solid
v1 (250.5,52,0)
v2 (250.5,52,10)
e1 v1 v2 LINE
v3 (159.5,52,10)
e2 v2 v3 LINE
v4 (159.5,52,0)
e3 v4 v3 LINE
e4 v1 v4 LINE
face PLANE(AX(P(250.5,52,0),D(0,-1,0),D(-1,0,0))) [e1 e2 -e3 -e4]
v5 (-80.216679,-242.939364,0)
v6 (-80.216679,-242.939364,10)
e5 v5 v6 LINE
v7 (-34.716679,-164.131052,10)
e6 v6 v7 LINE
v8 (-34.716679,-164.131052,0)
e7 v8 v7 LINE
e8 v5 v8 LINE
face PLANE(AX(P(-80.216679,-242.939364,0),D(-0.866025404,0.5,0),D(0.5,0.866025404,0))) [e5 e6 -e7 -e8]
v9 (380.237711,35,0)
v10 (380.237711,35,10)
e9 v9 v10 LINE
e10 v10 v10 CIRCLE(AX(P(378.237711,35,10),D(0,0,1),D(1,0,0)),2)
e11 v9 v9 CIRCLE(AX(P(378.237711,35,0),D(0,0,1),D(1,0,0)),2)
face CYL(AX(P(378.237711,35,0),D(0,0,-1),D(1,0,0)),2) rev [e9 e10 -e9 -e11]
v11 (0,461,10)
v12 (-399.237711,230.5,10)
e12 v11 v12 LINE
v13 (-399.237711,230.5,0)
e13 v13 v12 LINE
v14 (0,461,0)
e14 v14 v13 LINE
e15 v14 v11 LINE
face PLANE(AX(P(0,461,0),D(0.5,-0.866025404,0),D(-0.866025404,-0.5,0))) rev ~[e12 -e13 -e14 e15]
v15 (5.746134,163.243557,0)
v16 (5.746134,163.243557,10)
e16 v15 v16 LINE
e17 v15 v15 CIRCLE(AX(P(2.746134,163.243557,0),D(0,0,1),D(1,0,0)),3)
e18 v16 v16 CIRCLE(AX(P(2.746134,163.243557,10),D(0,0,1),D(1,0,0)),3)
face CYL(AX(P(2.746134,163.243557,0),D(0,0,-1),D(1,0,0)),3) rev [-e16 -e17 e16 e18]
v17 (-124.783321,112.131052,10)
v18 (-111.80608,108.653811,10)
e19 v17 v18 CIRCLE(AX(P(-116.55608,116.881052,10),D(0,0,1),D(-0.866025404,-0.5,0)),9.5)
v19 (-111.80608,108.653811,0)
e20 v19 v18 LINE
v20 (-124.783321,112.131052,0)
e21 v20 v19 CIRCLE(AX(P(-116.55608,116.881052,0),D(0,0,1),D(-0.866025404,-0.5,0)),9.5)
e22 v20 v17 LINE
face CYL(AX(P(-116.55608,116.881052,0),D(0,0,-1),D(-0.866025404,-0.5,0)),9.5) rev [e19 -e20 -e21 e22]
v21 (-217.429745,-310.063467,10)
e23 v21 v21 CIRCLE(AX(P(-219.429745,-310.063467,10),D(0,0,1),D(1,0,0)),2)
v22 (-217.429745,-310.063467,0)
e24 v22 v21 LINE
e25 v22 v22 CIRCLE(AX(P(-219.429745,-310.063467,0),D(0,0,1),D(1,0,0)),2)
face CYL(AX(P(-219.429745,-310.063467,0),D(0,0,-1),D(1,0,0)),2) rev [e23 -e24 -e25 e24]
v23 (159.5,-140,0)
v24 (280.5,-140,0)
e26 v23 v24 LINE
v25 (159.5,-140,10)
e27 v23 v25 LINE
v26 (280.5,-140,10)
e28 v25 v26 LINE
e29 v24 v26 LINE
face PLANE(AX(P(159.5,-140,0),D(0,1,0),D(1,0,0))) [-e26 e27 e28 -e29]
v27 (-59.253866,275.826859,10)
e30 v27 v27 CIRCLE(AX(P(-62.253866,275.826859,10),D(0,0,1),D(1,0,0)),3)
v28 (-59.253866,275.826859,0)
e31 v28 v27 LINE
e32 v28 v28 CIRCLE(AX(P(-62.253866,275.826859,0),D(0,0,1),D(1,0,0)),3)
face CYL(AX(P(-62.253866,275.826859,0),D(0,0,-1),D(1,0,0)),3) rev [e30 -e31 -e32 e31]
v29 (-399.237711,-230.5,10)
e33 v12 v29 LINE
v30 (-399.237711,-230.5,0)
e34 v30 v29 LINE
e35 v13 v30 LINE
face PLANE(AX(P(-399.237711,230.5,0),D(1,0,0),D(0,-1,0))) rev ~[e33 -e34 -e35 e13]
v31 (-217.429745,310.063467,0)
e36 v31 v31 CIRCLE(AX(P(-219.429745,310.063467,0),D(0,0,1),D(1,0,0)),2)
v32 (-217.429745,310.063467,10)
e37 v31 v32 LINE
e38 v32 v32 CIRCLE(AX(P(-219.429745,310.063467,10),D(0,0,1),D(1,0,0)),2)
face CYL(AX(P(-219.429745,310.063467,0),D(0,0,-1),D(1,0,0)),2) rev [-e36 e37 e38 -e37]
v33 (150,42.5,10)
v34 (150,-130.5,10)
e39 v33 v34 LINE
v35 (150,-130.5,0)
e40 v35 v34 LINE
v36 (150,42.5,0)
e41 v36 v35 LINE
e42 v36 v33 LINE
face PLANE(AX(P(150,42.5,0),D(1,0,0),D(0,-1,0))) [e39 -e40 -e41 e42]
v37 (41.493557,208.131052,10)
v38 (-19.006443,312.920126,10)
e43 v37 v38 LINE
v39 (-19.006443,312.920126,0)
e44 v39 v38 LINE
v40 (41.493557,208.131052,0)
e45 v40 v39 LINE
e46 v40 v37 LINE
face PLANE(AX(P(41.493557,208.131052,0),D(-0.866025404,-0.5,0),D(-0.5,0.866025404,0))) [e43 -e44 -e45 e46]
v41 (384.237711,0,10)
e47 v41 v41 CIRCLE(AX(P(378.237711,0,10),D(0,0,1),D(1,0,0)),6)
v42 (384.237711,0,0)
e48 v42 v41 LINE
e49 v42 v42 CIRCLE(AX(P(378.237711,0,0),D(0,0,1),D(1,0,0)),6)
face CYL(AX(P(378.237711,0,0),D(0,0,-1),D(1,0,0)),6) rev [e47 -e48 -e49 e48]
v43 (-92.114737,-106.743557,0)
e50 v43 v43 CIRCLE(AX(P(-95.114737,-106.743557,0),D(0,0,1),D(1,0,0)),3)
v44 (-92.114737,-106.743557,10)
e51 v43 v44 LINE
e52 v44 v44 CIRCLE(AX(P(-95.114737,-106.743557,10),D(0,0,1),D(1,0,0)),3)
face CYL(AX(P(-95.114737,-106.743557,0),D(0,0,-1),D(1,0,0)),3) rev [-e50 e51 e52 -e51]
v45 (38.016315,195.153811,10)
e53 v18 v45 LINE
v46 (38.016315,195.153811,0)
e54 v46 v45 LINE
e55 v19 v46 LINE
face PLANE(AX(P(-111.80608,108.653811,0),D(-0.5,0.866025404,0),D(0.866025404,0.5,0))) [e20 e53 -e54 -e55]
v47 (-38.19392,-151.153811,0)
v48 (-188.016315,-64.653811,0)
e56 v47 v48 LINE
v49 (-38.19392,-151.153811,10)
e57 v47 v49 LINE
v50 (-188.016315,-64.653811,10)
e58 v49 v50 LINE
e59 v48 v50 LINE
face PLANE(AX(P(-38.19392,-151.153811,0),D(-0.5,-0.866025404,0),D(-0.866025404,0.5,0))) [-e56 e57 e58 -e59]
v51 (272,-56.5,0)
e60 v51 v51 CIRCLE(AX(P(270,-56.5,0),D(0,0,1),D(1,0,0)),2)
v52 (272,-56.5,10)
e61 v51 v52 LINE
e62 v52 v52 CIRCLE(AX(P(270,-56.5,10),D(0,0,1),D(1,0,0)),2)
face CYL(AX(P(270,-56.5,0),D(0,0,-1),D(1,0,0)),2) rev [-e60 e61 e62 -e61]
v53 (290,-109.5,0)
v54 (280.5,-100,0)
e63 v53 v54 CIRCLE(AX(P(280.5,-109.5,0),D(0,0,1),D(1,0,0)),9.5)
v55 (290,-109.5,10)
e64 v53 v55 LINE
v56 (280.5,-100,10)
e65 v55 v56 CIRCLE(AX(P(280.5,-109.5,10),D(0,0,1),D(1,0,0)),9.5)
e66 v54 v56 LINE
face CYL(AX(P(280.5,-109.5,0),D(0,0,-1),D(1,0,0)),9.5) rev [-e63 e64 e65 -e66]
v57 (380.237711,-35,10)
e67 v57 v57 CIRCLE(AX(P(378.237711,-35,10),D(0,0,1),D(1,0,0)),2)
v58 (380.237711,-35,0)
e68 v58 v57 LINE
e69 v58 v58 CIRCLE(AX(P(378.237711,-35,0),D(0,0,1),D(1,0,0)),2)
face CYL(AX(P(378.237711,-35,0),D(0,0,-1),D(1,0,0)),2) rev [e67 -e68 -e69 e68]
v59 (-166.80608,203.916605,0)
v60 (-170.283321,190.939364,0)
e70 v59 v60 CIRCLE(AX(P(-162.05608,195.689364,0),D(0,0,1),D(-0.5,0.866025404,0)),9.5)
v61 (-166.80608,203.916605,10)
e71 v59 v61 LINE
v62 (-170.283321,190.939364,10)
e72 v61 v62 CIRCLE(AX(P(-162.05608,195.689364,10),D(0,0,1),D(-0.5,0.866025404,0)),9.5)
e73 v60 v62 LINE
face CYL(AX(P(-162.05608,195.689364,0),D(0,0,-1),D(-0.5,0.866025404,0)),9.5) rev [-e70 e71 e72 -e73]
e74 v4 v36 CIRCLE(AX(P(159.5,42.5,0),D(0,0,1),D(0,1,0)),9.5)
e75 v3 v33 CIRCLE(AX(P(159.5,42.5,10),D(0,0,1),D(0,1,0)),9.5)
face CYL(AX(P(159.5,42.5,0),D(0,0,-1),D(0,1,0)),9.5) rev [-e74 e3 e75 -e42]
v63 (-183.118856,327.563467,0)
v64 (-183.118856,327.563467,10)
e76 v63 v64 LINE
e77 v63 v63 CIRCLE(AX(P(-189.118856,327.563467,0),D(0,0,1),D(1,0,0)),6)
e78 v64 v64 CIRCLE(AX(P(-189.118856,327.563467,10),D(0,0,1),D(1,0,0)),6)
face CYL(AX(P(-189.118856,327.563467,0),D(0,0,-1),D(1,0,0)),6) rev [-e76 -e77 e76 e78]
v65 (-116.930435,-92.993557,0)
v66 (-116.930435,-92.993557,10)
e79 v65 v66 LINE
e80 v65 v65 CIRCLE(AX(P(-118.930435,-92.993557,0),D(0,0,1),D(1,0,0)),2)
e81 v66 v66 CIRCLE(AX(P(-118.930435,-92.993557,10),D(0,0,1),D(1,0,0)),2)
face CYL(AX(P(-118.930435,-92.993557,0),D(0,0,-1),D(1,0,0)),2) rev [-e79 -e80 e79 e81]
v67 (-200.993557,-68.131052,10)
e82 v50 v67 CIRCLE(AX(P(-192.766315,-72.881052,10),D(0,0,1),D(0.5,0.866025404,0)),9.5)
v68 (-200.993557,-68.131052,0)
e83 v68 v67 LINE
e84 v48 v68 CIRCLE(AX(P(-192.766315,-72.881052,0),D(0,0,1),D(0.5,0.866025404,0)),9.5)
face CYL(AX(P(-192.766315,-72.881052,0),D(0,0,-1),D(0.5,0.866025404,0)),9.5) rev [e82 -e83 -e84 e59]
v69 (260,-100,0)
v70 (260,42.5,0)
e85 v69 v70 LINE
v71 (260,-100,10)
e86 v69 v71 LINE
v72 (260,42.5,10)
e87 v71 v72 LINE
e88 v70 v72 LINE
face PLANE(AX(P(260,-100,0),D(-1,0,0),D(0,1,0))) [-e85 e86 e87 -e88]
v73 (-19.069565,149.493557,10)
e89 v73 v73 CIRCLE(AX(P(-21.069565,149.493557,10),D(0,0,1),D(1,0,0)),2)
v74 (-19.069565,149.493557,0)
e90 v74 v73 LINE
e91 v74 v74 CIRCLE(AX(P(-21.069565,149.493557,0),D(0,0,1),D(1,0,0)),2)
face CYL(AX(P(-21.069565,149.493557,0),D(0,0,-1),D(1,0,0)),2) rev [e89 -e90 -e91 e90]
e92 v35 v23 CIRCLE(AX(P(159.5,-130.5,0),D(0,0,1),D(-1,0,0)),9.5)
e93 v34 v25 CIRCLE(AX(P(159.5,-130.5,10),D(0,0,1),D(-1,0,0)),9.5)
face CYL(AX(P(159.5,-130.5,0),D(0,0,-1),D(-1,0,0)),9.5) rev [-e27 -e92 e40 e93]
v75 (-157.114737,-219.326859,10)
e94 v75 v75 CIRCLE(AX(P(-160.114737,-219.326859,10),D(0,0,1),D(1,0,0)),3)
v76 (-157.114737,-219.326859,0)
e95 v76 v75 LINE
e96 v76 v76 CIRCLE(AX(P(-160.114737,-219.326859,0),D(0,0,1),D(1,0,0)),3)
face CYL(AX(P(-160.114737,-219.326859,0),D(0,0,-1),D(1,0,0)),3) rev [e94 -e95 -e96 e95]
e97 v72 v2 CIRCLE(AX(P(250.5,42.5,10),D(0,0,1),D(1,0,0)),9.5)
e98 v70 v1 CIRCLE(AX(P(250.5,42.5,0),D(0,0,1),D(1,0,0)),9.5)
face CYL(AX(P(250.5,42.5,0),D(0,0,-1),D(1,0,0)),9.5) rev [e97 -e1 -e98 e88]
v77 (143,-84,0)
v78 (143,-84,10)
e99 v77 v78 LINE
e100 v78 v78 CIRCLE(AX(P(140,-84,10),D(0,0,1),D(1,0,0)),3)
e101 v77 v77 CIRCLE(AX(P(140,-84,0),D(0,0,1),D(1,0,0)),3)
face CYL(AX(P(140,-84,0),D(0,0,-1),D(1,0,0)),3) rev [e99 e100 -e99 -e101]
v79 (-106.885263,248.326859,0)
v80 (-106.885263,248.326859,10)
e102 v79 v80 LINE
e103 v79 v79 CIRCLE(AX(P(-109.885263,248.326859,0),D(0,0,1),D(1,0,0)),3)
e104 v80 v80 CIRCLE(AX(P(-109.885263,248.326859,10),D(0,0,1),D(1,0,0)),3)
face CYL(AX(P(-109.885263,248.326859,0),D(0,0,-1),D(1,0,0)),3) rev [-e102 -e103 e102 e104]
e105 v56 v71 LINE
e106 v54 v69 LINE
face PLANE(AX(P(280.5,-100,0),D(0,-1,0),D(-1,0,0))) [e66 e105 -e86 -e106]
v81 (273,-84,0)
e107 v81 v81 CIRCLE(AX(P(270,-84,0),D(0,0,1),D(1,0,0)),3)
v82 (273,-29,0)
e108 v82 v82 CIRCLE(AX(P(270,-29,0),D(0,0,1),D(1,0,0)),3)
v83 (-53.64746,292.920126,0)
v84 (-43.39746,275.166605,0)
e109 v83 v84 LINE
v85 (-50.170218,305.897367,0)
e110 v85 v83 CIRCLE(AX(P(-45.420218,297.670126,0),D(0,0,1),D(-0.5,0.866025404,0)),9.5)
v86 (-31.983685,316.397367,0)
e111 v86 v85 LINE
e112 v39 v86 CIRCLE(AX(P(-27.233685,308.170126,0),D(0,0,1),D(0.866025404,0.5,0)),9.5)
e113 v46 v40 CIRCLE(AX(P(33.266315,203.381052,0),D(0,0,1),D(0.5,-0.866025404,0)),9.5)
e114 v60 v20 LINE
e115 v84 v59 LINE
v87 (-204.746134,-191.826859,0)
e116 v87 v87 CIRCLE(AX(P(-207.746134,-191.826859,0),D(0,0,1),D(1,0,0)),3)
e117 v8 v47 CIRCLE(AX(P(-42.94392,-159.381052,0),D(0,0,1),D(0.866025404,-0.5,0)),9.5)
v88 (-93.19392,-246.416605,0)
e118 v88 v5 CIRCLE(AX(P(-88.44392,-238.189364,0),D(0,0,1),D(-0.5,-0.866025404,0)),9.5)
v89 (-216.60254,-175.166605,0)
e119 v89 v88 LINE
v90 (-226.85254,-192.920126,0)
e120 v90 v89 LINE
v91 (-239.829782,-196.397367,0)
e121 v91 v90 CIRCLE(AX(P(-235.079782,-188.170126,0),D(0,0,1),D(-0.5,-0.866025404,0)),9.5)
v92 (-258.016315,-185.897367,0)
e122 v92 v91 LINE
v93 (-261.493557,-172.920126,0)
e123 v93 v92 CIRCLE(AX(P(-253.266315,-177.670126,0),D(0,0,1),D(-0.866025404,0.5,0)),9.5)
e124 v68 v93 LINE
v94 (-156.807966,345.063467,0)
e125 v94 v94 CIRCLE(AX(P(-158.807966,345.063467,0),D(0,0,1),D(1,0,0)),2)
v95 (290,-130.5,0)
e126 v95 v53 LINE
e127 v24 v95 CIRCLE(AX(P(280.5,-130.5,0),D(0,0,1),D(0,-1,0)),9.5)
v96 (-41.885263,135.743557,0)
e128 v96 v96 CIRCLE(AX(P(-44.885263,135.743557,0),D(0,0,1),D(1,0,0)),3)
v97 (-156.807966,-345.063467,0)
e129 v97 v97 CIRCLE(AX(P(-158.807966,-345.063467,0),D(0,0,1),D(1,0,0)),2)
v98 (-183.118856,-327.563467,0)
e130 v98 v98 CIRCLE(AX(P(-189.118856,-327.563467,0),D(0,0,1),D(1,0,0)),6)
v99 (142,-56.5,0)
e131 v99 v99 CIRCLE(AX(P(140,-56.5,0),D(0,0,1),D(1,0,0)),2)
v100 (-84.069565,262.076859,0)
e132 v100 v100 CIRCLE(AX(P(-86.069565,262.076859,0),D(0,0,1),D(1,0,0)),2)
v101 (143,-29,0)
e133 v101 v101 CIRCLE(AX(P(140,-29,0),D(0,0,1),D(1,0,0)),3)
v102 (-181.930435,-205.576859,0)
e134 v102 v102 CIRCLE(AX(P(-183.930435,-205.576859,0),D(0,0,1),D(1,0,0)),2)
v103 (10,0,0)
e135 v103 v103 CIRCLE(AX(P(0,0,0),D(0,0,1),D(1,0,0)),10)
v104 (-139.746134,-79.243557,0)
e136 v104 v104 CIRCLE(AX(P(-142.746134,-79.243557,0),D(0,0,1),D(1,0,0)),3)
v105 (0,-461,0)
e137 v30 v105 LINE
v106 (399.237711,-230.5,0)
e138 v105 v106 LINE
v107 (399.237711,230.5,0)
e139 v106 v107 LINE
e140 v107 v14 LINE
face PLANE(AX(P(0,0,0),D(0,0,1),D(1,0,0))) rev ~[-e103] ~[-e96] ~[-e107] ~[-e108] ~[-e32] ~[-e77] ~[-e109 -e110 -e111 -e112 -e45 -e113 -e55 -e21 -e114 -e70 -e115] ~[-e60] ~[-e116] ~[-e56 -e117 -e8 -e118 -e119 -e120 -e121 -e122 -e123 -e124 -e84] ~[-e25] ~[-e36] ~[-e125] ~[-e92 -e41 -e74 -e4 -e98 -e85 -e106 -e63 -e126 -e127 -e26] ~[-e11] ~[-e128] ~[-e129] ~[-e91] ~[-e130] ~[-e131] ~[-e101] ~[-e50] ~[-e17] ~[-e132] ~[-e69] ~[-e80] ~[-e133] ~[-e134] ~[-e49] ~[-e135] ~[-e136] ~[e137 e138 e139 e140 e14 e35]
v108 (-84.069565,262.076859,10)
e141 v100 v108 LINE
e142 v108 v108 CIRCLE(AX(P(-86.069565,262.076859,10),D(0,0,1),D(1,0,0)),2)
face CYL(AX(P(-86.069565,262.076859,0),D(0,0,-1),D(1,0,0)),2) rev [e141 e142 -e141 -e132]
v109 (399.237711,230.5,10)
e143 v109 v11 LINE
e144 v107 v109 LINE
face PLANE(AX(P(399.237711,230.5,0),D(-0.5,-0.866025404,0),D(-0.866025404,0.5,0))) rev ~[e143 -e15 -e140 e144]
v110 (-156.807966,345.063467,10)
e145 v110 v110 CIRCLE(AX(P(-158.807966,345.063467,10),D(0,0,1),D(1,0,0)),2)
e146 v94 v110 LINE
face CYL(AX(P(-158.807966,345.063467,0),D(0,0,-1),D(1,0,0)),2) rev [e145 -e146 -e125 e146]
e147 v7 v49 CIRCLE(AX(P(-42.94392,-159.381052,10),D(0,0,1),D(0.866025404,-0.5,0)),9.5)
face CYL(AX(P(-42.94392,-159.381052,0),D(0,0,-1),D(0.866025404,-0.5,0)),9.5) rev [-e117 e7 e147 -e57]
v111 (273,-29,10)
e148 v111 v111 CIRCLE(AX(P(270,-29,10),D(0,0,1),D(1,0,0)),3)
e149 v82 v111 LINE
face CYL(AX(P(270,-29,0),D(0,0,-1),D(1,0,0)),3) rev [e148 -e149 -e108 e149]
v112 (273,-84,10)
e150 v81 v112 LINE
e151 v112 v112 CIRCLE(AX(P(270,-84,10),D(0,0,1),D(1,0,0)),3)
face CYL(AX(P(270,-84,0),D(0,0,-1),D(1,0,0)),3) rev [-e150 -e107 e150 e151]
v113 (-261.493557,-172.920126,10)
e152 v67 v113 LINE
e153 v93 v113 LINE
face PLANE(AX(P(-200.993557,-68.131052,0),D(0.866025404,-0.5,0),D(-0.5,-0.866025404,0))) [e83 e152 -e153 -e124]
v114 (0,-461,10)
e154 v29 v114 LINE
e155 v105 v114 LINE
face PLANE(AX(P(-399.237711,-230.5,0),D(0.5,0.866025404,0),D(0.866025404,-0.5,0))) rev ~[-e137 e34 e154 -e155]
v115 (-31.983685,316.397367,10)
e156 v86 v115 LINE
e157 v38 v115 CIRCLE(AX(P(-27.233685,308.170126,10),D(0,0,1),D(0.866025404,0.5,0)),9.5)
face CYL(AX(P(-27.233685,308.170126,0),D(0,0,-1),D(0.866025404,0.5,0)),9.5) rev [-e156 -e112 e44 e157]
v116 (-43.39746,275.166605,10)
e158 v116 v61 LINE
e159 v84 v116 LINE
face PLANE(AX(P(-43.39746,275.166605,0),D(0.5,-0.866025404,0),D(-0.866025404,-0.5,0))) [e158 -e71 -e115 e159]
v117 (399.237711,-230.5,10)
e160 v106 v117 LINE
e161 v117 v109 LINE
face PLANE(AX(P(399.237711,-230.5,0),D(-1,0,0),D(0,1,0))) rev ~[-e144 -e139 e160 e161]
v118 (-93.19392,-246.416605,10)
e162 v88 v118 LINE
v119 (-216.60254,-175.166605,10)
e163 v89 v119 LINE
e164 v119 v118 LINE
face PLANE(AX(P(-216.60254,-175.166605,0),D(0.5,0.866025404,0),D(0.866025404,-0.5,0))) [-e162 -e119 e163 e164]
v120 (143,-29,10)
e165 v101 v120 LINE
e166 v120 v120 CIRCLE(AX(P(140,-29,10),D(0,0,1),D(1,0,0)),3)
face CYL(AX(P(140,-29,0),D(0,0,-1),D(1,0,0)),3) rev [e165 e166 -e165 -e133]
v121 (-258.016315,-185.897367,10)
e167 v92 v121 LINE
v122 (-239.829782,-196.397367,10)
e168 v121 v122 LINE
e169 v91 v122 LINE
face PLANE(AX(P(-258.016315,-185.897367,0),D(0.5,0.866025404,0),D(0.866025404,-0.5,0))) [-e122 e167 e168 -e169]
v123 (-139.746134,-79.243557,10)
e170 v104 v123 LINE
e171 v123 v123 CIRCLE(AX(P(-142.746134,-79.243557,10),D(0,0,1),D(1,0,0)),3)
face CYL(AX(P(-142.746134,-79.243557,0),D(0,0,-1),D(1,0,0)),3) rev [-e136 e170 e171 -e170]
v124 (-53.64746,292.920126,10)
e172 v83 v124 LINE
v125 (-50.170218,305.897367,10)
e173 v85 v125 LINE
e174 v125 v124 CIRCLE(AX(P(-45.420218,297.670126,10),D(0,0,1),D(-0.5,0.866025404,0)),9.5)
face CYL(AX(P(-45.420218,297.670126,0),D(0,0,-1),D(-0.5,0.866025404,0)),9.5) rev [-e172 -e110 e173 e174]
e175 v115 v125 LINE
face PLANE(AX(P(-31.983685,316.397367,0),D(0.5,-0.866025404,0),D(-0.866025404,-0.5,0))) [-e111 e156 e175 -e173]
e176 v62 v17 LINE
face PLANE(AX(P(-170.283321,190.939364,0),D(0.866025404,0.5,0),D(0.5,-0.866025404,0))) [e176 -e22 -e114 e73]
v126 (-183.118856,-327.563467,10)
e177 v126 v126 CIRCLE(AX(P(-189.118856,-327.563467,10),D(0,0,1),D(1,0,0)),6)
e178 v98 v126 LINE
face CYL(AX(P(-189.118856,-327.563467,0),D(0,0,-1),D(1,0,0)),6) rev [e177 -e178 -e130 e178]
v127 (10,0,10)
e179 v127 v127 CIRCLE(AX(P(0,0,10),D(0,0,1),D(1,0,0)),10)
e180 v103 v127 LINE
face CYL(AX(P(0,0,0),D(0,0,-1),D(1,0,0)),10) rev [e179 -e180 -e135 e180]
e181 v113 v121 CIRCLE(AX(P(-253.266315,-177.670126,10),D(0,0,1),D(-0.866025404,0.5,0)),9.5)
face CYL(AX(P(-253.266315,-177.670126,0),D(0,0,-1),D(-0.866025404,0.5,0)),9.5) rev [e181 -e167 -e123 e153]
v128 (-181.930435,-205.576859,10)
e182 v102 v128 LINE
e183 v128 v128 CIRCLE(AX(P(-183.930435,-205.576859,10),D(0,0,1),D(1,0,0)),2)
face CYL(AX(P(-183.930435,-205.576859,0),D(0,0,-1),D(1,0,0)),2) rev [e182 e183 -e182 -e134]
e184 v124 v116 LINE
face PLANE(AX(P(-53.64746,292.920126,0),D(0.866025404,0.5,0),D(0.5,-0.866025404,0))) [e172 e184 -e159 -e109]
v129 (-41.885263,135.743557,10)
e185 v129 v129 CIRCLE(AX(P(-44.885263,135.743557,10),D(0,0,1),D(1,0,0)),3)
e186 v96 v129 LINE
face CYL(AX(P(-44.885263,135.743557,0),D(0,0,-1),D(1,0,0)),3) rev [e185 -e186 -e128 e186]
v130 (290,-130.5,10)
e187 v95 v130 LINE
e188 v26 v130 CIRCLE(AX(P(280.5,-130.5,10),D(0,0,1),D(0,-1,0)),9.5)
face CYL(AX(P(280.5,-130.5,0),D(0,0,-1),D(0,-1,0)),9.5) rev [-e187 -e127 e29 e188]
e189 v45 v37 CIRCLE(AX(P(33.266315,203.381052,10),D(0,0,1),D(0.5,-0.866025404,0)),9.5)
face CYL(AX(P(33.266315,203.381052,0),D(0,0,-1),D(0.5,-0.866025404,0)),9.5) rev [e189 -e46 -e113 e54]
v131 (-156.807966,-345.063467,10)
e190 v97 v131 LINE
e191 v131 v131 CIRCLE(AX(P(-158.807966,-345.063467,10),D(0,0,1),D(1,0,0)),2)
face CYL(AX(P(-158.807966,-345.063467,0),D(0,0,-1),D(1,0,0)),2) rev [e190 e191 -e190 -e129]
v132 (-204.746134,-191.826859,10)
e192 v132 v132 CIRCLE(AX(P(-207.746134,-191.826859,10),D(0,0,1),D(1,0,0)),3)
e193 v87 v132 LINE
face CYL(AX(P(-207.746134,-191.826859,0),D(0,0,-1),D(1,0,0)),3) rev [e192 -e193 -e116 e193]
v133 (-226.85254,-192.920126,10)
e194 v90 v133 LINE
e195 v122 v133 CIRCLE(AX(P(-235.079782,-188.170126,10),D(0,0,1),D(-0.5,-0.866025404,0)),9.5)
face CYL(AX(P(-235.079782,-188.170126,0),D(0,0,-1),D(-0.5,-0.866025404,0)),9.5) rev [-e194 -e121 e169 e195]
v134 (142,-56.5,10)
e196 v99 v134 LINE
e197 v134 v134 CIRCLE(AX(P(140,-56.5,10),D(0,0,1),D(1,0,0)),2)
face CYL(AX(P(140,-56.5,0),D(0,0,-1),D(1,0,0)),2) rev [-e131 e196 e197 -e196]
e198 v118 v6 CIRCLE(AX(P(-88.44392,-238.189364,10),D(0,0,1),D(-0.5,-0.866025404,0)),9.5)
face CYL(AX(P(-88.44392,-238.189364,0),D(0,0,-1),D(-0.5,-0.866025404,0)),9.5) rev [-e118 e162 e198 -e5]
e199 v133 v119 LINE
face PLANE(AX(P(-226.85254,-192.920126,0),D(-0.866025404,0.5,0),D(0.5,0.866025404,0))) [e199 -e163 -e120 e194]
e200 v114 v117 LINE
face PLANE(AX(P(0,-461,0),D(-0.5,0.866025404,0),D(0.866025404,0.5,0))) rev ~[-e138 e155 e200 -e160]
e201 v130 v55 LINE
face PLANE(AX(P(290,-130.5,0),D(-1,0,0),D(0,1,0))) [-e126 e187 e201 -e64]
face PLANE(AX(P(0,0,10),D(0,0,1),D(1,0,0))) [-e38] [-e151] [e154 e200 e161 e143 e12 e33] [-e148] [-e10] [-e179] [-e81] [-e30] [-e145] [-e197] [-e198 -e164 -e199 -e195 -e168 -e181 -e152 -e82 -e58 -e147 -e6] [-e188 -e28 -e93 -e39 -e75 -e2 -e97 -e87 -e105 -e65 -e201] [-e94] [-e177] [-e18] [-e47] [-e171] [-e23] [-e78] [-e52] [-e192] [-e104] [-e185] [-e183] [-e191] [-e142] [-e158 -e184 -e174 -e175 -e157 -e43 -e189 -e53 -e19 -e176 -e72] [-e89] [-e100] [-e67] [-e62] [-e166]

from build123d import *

# Parameters (mm, degrees)
ESQUISSE1_R        = 10
ESQUISSE1_R_2      = 3
ESQUISSE1_R_3      = 2
ESQUISSE1_R_4      = 6
BOSS_EXTRU_1_DEPTH = 10


with BuildPart() as part:
    # Esquisse1 → Boss.-Extru.1 (new body)
    with BuildSketch(Plane.XY):
        Polygon((399.237711145, 230.5), (0, 461), (-399.237711145, 230.5), (-399.237711145, -230.5), (0, -461), (399.237711145, -230.5), align=None)
        Circle(ESQUISSE1_R, mode=Mode.SUBTRACT)
        with Locations((140, -29)):
            Circle(ESQUISSE1_R_2, mode=Mode.SUBTRACT)
        with Locations((140, -56.5)):
            Circle(ESQUISSE1_R_3, mode=Mode.SUBTRACT)
        with Locations((140, -84)):
            Circle(ESQUISSE1_R_2, mode=Mode.SUBTRACT)
        with Locations((378.237711145, 0)):
            Circle(ESQUISSE1_R_4, mode=Mode.SUBTRACT)
        with Locations((378.237711145, 35)):
            Circle(ESQUISSE1_R_3, mode=Mode.SUBTRACT)
        with Locations((378.237711145, -35)):
            Circle(ESQUISSE1_R_3, mode=Mode.SUBTRACT)
        with Locations((270, -84)):
            Circle(ESQUISSE1_R_2, mode=Mode.SUBTRACT)
        with Locations((270, -56.5)):
            Circle(ESQUISSE1_R_3, mode=Mode.SUBTRACT)
        with Locations((270, -29)):
            Circle(ESQUISSE1_R_2, mode=Mode.SUBTRACT)
        with Locations((-95.11473671, -106.74355653)):
            Circle(ESQUISSE1_R_2, mode=Mode.SUBTRACT)
        with Locations((-118.930435314, -92.99355653)):
            Circle(ESQUISSE1_R_3, mode=Mode.SUBTRACT)
        with Locations((-142.746133918, -79.24355653)):
            Circle(ESQUISSE1_R_2, mode=Mode.SUBTRACT)
        with Locations((-207.746133918, -191.826859022)):
            Circle(ESQUISSE1_R_2, mode=Mode.SUBTRACT)
        with Locations((-183.930435314, -205.576859022)):
            Circle(ESQUISSE1_R_3, mode=Mode.SUBTRACT)
        with Locations((-160.11473671, -219.326859022)):
            Circle(ESQUISSE1_R_2, mode=Mode.SUBTRACT)
        with Locations((-189.118855572, -327.563466521)):
            Circle(ESQUISSE1_R_4, mode=Mode.SUBTRACT)
        with Locations((-158.80796644, -345.063466521)):
            Circle(ESQUISSE1_R_3, mode=Mode.SUBTRACT)
        with Locations((-219.429744705, -310.063466521)):
            Circle(ESQUISSE1_R_3, mode=Mode.SUBTRACT)
        with Locations((-44.88526329, 135.74355653)):
            Circle(ESQUISSE1_R_2, mode=Mode.SUBTRACT)
        with Locations((-21.069564686, 149.49355653)):
            Circle(ESQUISSE1_R_3, mode=Mode.SUBTRACT)
        with Locations((2.746133918, 163.24355653)):
            Circle(ESQUISSE1_R_2, mode=Mode.SUBTRACT)
        with Locations((-62.253866082, 275.826859022)):
            Circle(ESQUISSE1_R_2, mode=Mode.SUBTRACT)
        with Locations((-86.069564686, 262.076859022)):
            Circle(ESQUISSE1_R_3, mode=Mode.SUBTRACT)
        with Locations((-109.88526329, 248.326859022)):
            Circle(ESQUISSE1_R_2, mode=Mode.SUBTRACT)
        with Locations((-189.118855572, 327.56346652)):
            Circle(ESQUISSE1_R_4, mode=Mode.SUBTRACT)
        with Locations((-219.429744705, 310.06346652)):
            Circle(ESQUISSE1_R_3, mode=Mode.SUBTRACT)
        with Locations((-158.80796644, 345.06346652)):
            Circle(ESQUISSE1_R_3, mode=Mode.SUBTRACT)
        with BuildLine():
            Line((150, 42.5), (150, -130.5))
            ThreePointArc((150, -130.5), (152.782485579, -137.217514421), (159.5, -140))
            Line((159.5, -140), (280.5, -140))
            ThreePointArc((280.5, -140), (287.217514421, -137.217514421), (290, -130.5))
            Line((290, -130.5), (290, -109.5))
            ThreePointArc((290, -109.5), (287.217514421, -102.782485579), (280.5, -100))
            Line((280.5, -100), (260, -100))
            Line((260, -100), (260, 42.5))
            ThreePointArc((260, 42.5), (257.217514421, 49.217514421), (250.5, 52))
            Line((250.5, 52), (159.5, 52))
            ThreePointArc((159.5, 52), (152.782485579, 49.217514421), (150, 42.5))
        make_face(mode=Mode.SUBTRACT)
        with BuildLine():
            Line((-80.216679003, -242.939363648), (-34.716679003, -164.131051904))
            ThreePointArc((-34.716679003, -164.131051904), (-33.767624989, -156.922270975), (-38.193920339, -151.153810568))
            Line((-38.193920339, -151.153810568), (-188.016315194, -64.653810568))
            ThreePointArc((-188.016315194, -64.653810568), (-195.225096122, -63.704756554), (-200.99355653, -68.131051904))
            Line((-200.99355653, -68.131051904), (-261.49355653, -172.920125762))
            ThreePointArc((-261.49355653, -172.920125762), (-262.442610544, -180.12890669), (-258.016315194, -185.897367098))
            Line((-258.016315194, -185.897367098), (-239.829781714, -196.397367098))
            ThreePointArc((-239.829781714, -196.397367098), (-232.621000786, -197.346421111), (-226.852540378, -192.920125762))
            Line((-226.852540378, -192.920125762), (-216.602540378, -175.166604984))
            Line((-216.602540378, -175.166604984), (-93.193920339, -246.416604984))
            ThreePointArc((-93.193920339, -246.416604984), (-85.985139411, -247.365658998), (-80.216679003, -242.939363648))
        make_face(mode=Mode.SUBTRACT)
        with BuildLine():
            Line((-170.283320997, 190.939363648), (-124.783320997, 112.131051904))
            ThreePointArc((-124.783320997, 112.131051904), (-119.014860589, 107.704756554), (-111.806079661, 108.653810568))
            Line((-111.806079661, 108.653810568), (38.016315194, 195.153810568))
            ThreePointArc((38.016315194, 195.153810568), (42.442610544, 200.922270975), (41.49355653, 208.131051904))
            Line((41.49355653, 208.131051904), (-19.00644347, 312.920125761))
            ThreePointArc((-19.00644347, 312.920125761), (-24.774903878, 317.346421111), (-31.983684806, 316.397367097))
            Line((-31.983684806, 316.397367097), (-50.170218286, 305.897367097))
            ThreePointArc((-50.170218286, 305.897367097), (-54.596513635, 300.12890669), (-53.647459622, 292.920125761))
            Line((-53.647459622, 292.920125761), (-43.397459622, 275.166604984))
            Line((-43.397459622, 275.166604984), (-166.806079661, 203.916604984))
            ThreePointArc((-166.806079661, 203.916604984), (-171.232375011, 198.148144576), (-170.283320997, 190.939363648))
        make_face(mode=Mode.SUBTRACT)
    extrude(amount=BOSS_EXTRU_1_DEPTH)


solid = part.part
